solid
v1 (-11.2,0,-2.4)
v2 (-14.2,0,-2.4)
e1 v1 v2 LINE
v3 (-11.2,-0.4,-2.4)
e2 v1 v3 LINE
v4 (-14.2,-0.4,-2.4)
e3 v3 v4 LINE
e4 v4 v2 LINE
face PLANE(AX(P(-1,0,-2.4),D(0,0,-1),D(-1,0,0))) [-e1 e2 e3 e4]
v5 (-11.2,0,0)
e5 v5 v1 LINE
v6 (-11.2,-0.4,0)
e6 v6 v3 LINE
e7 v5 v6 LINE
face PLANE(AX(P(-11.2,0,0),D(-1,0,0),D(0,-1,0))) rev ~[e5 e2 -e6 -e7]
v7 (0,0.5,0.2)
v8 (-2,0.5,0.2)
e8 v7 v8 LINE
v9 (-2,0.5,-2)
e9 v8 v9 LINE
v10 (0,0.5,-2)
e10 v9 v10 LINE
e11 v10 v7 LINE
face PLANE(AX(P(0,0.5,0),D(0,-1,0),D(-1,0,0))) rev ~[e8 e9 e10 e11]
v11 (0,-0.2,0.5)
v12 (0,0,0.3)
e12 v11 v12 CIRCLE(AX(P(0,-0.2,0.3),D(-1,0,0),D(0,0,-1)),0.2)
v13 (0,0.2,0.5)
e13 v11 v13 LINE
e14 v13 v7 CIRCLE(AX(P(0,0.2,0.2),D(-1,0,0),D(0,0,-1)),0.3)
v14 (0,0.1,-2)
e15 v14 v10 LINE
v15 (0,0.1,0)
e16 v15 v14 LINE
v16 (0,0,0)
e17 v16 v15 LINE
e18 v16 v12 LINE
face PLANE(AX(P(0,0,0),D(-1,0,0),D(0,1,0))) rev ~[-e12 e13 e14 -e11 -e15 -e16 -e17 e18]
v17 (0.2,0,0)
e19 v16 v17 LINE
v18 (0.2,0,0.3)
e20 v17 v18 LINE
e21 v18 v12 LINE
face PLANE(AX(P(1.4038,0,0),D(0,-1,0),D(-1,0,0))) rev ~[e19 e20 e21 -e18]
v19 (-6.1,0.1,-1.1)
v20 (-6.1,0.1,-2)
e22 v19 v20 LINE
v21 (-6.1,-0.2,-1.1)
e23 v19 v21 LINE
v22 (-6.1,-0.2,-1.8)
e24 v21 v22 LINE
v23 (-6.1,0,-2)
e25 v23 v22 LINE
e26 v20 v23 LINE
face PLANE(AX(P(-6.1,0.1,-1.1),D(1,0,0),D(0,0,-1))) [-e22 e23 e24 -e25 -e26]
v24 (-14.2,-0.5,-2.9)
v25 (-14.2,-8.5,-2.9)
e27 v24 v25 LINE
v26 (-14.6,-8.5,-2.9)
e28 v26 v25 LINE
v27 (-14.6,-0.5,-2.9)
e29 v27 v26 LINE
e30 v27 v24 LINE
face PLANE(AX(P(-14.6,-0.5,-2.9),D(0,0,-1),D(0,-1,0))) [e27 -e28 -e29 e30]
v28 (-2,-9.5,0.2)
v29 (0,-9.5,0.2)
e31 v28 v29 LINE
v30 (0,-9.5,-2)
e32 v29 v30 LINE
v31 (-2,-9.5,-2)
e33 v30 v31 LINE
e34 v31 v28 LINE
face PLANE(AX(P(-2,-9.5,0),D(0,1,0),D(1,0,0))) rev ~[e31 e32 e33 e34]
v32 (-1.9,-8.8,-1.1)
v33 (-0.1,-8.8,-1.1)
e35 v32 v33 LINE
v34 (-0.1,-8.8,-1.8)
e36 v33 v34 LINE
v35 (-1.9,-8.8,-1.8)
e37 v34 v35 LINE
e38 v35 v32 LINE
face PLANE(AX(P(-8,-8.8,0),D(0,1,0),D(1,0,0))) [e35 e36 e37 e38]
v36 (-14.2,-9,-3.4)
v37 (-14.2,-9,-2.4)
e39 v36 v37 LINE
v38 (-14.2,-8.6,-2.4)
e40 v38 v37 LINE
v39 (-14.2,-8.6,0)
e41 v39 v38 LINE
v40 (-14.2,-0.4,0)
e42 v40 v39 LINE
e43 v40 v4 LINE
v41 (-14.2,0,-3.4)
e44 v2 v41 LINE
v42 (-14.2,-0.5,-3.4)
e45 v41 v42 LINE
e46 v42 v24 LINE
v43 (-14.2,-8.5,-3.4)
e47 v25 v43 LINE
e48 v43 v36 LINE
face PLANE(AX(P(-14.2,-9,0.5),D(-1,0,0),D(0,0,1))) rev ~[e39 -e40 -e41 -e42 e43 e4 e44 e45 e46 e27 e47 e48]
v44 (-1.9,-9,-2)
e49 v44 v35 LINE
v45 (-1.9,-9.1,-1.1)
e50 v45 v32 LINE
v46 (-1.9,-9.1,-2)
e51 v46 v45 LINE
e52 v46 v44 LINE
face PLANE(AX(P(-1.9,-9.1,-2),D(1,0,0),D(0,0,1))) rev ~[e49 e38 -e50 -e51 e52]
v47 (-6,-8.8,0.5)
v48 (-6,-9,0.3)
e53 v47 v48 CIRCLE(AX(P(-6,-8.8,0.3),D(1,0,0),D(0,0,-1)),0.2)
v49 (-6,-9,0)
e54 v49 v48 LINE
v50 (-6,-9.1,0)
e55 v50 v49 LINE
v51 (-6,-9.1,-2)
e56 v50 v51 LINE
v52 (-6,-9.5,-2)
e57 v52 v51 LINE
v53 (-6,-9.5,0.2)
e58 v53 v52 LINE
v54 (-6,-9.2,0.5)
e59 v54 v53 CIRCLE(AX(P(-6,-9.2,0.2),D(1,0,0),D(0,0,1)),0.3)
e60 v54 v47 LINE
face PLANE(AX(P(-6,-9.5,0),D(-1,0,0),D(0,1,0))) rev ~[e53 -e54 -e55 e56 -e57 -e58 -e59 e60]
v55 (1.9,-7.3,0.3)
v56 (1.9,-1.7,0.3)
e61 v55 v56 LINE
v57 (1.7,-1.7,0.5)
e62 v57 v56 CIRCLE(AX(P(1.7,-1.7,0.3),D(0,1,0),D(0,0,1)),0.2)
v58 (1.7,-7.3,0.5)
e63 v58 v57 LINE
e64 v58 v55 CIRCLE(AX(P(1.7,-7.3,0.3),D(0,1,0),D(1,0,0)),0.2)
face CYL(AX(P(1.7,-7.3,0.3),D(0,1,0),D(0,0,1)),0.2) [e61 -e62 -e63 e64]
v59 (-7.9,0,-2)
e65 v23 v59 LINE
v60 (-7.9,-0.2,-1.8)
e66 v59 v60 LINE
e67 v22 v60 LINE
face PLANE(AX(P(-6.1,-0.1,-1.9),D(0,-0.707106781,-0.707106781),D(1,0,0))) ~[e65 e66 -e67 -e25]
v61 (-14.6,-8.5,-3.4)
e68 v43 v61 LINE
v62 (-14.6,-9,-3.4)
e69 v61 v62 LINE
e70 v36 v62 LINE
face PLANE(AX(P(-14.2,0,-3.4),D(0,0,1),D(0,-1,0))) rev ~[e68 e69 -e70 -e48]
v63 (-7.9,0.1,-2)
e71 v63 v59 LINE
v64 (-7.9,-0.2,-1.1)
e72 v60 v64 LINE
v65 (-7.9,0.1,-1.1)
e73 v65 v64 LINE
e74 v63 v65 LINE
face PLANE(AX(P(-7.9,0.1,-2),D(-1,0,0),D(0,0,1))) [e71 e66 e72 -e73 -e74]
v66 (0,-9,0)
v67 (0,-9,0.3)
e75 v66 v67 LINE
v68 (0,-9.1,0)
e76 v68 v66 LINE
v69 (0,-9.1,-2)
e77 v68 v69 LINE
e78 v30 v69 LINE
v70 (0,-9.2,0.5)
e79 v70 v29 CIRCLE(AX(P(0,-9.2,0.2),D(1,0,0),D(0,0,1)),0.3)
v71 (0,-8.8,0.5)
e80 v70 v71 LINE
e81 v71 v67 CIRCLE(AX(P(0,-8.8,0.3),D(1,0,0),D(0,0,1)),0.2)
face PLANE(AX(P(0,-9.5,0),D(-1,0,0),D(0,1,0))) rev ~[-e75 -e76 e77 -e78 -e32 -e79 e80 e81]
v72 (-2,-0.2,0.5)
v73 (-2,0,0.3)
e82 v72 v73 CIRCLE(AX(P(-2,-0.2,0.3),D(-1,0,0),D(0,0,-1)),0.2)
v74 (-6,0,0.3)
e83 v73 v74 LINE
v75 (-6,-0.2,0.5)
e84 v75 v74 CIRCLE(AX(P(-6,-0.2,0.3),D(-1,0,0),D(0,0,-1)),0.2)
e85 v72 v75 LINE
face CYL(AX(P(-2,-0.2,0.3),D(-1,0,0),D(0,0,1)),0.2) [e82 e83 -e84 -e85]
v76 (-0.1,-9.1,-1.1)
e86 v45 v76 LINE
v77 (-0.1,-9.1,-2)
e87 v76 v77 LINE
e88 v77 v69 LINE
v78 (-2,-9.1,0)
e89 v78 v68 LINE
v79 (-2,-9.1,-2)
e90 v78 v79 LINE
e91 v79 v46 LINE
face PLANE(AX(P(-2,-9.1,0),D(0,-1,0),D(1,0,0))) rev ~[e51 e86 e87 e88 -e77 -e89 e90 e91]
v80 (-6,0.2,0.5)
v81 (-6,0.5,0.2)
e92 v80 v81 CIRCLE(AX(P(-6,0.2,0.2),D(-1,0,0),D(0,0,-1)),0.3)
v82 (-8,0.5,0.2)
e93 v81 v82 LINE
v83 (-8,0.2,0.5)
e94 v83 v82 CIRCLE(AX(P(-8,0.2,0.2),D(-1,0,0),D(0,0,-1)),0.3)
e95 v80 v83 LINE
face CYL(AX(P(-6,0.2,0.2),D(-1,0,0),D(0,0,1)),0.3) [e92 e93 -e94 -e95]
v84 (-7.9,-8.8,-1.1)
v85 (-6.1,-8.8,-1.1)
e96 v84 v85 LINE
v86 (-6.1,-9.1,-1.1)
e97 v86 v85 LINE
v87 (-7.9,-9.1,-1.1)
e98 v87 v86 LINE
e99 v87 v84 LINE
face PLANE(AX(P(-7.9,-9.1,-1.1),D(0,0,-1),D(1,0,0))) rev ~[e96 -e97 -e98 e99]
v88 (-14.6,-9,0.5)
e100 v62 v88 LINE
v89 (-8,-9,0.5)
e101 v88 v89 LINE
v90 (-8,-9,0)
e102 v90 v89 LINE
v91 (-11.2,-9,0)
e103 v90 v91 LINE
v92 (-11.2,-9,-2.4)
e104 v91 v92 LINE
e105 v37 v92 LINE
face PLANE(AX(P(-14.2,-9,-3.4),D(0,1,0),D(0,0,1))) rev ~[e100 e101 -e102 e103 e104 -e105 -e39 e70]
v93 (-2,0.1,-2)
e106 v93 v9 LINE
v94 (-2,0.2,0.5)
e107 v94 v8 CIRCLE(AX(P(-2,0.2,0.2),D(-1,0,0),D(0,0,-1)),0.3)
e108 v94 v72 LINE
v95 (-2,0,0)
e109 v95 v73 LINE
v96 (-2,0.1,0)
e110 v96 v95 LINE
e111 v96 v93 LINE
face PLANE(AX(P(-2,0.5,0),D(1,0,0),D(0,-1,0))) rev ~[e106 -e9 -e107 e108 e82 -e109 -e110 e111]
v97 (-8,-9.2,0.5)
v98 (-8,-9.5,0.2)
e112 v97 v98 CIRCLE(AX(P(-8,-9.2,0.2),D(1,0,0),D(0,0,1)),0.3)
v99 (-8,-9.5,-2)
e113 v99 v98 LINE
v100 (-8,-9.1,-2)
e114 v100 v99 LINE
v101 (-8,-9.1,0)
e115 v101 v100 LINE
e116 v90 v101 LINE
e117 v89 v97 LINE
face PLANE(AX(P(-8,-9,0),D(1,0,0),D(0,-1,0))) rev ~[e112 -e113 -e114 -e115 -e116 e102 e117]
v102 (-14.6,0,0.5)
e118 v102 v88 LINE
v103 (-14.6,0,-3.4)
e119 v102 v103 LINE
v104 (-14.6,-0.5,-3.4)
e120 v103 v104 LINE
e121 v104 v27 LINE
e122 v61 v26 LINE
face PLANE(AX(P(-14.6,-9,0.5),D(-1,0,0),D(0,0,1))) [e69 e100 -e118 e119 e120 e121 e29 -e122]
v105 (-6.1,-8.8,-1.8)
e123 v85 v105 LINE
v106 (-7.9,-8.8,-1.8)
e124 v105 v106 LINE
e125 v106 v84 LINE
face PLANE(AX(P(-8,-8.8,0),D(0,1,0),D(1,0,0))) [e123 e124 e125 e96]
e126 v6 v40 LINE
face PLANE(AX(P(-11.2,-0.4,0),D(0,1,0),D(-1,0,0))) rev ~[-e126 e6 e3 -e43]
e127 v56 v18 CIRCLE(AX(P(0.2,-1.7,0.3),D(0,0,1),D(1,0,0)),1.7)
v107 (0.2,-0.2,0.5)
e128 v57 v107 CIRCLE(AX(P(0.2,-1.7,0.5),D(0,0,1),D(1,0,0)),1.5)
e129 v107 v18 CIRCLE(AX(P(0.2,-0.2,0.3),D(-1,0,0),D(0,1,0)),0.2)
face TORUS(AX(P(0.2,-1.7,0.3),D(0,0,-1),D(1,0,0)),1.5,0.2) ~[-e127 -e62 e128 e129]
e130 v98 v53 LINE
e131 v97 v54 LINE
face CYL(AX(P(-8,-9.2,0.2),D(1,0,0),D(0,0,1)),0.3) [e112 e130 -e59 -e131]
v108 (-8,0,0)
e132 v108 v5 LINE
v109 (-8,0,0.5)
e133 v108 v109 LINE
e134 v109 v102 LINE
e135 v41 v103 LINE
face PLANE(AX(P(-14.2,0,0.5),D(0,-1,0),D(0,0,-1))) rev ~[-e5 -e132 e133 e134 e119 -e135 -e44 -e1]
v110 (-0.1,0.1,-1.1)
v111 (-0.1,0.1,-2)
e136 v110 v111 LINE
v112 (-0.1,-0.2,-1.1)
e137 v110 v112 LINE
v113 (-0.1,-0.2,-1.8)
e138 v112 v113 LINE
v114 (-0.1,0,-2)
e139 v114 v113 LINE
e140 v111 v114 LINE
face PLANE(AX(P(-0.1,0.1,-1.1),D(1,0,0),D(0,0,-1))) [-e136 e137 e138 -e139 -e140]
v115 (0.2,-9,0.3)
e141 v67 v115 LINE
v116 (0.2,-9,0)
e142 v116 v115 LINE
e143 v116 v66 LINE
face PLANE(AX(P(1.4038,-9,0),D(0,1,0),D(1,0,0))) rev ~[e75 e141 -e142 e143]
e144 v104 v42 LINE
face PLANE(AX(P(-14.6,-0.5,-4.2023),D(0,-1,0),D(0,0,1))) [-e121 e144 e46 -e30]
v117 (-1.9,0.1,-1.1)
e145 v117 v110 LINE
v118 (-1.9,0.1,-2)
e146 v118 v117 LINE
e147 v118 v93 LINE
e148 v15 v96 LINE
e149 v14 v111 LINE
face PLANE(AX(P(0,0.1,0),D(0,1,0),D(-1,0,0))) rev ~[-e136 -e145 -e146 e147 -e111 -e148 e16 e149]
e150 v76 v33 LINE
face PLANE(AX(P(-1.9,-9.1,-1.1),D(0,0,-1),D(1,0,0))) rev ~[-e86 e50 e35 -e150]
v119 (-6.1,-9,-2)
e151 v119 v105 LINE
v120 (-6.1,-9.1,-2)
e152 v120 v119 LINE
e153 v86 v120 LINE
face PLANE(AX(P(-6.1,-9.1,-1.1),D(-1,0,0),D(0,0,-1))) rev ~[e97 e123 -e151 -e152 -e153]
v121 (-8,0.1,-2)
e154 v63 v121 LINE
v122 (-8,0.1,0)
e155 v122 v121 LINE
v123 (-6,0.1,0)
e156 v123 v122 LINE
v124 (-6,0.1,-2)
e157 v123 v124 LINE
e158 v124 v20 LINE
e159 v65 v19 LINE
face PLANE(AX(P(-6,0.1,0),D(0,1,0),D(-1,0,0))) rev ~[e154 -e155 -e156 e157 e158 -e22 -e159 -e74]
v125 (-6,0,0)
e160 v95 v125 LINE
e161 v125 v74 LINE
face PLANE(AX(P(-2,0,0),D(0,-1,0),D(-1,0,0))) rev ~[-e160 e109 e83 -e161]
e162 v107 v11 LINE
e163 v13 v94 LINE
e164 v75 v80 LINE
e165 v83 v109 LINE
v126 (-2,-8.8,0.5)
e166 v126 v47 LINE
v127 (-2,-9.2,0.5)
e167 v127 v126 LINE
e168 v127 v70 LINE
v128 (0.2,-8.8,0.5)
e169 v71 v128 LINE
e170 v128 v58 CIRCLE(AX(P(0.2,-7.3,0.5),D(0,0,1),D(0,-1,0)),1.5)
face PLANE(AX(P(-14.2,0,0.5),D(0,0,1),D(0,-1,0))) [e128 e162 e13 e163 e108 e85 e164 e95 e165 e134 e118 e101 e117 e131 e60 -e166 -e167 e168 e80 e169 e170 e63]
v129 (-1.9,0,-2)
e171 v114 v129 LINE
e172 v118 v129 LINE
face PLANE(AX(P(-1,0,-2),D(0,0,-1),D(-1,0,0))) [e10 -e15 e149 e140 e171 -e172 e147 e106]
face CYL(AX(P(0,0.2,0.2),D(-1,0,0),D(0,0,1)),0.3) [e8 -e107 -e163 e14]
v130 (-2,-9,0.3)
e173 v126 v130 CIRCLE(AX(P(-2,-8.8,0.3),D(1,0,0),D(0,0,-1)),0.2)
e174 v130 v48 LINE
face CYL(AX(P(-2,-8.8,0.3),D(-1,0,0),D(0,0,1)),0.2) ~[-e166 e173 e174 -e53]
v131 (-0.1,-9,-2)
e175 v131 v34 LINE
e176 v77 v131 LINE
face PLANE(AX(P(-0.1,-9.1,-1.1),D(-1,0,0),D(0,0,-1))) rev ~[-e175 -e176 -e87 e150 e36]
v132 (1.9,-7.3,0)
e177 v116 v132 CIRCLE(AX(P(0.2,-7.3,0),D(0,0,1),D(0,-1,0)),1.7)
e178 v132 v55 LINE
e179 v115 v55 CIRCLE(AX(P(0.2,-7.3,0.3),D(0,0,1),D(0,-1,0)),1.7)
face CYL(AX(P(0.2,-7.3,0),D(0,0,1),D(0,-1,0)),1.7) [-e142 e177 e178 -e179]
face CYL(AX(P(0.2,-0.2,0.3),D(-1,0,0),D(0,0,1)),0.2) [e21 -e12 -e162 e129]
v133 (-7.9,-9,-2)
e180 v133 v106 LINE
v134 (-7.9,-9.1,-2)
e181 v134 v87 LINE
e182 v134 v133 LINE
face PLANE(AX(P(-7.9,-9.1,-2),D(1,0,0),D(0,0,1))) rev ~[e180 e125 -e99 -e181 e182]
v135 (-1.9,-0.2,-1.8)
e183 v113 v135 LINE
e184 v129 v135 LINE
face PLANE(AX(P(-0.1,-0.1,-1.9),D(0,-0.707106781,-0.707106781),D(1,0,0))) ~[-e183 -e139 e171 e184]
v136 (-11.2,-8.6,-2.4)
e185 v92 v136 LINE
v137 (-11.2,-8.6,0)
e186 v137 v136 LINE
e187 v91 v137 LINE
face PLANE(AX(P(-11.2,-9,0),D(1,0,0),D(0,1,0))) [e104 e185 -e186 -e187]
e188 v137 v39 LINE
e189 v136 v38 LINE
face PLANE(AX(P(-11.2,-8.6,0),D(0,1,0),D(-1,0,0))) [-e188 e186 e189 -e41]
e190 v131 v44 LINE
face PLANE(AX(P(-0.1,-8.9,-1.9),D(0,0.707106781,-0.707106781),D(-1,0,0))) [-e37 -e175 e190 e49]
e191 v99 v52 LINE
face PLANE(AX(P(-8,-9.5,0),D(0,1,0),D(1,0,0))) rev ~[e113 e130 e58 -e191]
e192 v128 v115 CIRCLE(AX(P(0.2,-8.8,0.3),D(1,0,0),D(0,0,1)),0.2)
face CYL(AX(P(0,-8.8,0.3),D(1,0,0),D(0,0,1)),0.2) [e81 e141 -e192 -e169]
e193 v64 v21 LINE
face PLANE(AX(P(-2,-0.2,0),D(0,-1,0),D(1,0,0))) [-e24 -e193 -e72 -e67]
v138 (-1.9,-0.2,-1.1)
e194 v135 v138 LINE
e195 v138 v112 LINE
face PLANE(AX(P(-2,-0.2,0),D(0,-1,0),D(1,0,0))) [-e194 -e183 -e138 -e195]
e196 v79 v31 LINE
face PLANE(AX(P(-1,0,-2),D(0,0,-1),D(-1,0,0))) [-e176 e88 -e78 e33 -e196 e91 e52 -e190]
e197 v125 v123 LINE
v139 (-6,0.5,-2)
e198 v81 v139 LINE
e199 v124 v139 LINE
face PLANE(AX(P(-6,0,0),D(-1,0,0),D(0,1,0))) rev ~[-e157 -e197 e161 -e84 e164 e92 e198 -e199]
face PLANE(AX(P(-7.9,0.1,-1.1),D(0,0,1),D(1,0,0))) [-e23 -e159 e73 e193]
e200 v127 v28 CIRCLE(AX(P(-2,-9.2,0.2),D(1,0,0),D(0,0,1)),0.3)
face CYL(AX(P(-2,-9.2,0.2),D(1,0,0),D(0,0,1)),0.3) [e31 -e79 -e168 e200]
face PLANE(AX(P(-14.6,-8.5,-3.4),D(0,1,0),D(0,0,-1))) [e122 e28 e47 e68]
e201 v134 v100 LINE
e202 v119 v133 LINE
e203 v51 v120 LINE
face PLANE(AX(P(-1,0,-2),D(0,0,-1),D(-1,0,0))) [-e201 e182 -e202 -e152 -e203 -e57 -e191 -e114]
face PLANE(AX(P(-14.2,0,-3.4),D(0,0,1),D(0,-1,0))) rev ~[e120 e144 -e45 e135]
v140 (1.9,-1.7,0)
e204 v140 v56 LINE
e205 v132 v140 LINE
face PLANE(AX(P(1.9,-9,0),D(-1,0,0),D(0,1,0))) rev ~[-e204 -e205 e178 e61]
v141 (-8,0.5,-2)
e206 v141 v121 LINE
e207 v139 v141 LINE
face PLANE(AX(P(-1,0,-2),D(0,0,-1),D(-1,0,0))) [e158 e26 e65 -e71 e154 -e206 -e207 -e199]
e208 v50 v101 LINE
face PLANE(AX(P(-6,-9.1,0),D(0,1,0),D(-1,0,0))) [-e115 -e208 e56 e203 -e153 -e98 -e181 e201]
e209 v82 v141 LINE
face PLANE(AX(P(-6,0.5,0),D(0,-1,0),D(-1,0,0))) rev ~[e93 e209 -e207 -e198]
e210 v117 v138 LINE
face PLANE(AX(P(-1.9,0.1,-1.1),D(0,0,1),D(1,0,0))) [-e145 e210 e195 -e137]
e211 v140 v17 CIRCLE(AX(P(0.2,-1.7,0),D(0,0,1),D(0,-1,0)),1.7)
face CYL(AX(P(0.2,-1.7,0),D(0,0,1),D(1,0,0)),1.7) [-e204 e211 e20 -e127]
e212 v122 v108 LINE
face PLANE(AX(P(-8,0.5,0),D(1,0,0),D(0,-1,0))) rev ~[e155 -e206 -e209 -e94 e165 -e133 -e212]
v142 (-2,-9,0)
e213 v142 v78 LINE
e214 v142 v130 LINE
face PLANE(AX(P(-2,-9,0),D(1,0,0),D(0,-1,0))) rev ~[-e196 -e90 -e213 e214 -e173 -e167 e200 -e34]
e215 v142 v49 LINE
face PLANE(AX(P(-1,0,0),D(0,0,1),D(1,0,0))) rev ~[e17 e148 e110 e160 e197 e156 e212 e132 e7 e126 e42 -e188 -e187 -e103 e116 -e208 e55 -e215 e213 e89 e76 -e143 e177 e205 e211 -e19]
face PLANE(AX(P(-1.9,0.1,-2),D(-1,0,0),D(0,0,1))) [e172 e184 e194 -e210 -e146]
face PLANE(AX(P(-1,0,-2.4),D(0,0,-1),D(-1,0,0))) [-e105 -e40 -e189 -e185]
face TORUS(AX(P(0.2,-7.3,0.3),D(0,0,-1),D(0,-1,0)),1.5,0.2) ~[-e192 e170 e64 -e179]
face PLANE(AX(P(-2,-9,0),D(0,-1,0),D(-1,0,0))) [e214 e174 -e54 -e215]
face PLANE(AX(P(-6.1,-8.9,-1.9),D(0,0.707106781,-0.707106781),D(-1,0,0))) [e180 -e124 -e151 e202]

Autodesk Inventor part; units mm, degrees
ref_plane "Work Plane1" through (-1, 0, 0) normal (0, 0, 1) x (1, 0, 0)
sketch "Sketch1" plane through (-1, 0, 0) normal (0, 0, 1) x (1, 0, 0)
  line L0 (-7, 0) -> (-5, 0)
  line L1 (-5, 0) -> (-5, 0.5)
  line L2 (-5, 0.5) -> (-7, 0.5)
  line L3 (-7, 0.5) -> (-7, 0)
  line L4 (-5, 0) -> (-5, -0.4) projected
  line L5 (-7, 0) -> (-7, -0.4) projected
  line L6 (-1, 0) -> (-1, -0.4) projected
  line L7 (1, 0) -> (1, -0.4) projected
  line L8 (1, -8.6) -> (1, -9) projected
  line L9 (-1, -8.6) -> (-1, -9) projected
  line L10 (-5, -8.6) -> (-5, -9) projected
  line L11 (-7, -8.6) -> (-7, -9) projected
  line L12 (-7, -9.5) -> (-5, -9.5)
  line L13 (-5, -9.5) -> (-5, -9)
  line L14 (-5, -9) -> (-7, -9)
  line L15 (-7, -9) -> (-7, -9.5)
  line L16 (-1, -9.5) -> (1, -9.5)
  line L17 (1, -9.5) -> (1, -9)
  line L18 (1, -9) -> (-1, -9)
  line L19 (-1, -9) -> (-1, -9.5)
  line L20 (-1, 0) -> (1, 0)
  line L21 (1, 0) -> (1, 0.5)
  line L22 (1, 0.5) -> (-1, 0.5)
  line L23 (-1, 0.5) -> (-1, 0)
  line L24 (2.4038, -9) -> (-10, -9) projected
  line L25 (2.4038, 0) -> (-10, 0) projected
  line L26 (-13.2, -9) -> (2.9, -9)
  line L27 (2.9, -9) -> (2.9, 0)
  line L28 (2.9, 0) -> (-13.2, 0)
  line L29 (-13.2, 0) -> (-13.2, -9)
  line L30 (2.7, -2.7) -> (2.7, -1.9958) projected
  line L31 (-13, -9) -> (-13, -5.4522) projected
  point P0 (0.7, -9)
  point P1 (1, 0)
  point P2 (-1, 0)
  point P3 (-5, 0)
  point P4 (-7, 0)
  point P5 (1, 0)
  dimension "d89" = 0.5
  dimension "d90" = 0.2
  dimension "d125" = 0.2
extrude "main" add sketch "Sketch1" along normal blind 0.5
sketch "Sketch2" plane through (-1, 0, 0) normal (0, 0, -1) x (-1, 0, 0)
  line L0 (13, 0) -> (-2.4038, 0) projected
  line L1 (-2.4038, -9) -> (13, -9) projected
  line L2 (7, 0.5) -> (7, 0) projected
  line L3 (5, 0) -> (5, 0.5) projected
  line L4 (-1, 0) -> (-1, 0.5) projected
  line L5 (1, 0.5) -> (-1, 0.5)
  line L6 (-1, 0.5) -> (-1, 0.1)
  line L7 (-1, 0.1) -> (1, 0.1)
  line L8 (1, 0.1) -> (1, 0.5)
  line L9 (7, -9) -> (7, -9.5) projected
  line L10 (7, -9.5) -> (5, -9.5)
  line L11 (5, -9.5) -> (5, -9.1)
  line L12 (5, -9.1) -> (7, -9.1)
  line L13 (7, -9.1) -> (7, -9.5)
  line L14 (-1, -9.5) -> (-1, -9) projected
  line L15 (1, -9) -> (1, -9.5) projected
  line L16 (-1, -9.5) -> (1, -9.5)
  line L17 (1, -9.5) -> (1, -9.1)
  line L18 (1, -9.1) -> (-1, -9.1)
  line L19 (-1, -9.1) -> (-1, -9.5)
  line L20 (5, 0.5) -> (7, 0.5) projected
  line L21 (7, 0.5) -> (5, 0.5)
  line L22 (5, 0.5) -> (5, 0.1)
  line L23 (5, 0.1) -> (7, 0.1)
  line L24 (7, 0.1) -> (7, 0.5)
  line L25 (1, 0.5) -> (1, 0) projected
  line L26 (-1, 0.5) -> (1, 0.5) projected
  point P0 (1, -9.5)
  point P1 (-1, -9.1)
  point P2 (-1, 0.5)
  dimension "d91" = 0.1
  dimension "d92" = 0.1
  dimension "d93" = 0.1
  dimension "d94" = 0.1
extrude "flaps" add sketch "Sketch2" along normal blind 2 contours L23 L3 L20 L2 | L7 L4 L5 L8 | L9 L10 L11 L12 | L18 L15 L16 L14
sketch "Sketch18" plane through (-1, 0, 0) normal (0, 0, -1) x (-1, 0, 0)
  line L0 (7, 0) -> (13.2, 0) projected
  line L1 (13.2, 0) -> (10.2, 0)
  line L2 (10.2, 0) -> (10.2, -0.4)
  line L3 (10.2, -0.4) -> (13.2, -0.4)
  line L4 (13.2, -0.4) -> (13.2, 0)
  line L5 (13.2, -9) -> (7, -9) projected
  line L6 (13.2, -9) -> (10.2, -9)
  line L7 (10.2, -9) -> (10.2, -8.6)
  line L8 (10.2, -8.6) -> (13.2, -8.6)
  line L9 (13.2, -8.6) -> (13.2, -9)
  line L10 (10, 0) -> (10, -0.4) projected
  line L11 (-1.3, -0.4) -> (10, -0.4) projected
  line L12 (-1.3, -8.6) -> (10, -8.6) projected
  point P0 (-1, 0)
  point P1 (10.2, 0)
  dimension "d95" = 0.2
extrude "Extrusion18" add sketch "Sketch18" along normal blind 2.4
ref_plane "Work Plane4" through (-14.2, -9, 0.5) normal (-1, 0, 0) x (0, 0, 1)
sketch "Sketch19" plane through (-14.2, -9, 0.5) normal (-1, 0, 0) x (0, 0, 1)
  line L0 (0, 9) -> (0, 0) projected
  line L1 (0, 9) -> (-3.9, 9)
  line L2 (-3.9, 9) -> (-3.9, 0)
  line L3 (-3.9, 0) -> (0, 0)
  line L4 (0, 0) -> (0, 9)
  line L5 (-3.9, 8.5) -> (-3.9, 0.5) projected
extrude "Extrusion19" add sketch "Sketch19" along normal blind 0.4
fillet "Fillet7" radius 0.3 4 edges at (-1, -9.5, 0.5) (-1, 0.5, 0.5) (-7, 0.5, 0.5) (-7, -9.5, 0.5)
fillet "Fillet9" radius 1.7 2 edges at (1.9, 0, 0.25) (1.9, -9, 0.25)
sketch "Sketch22" plane through (-8, -9.1, 0) normal (0, 1, 0) x (1, 0, 0)
  line L0 (0, 0.9) -> (2, 0.9) projected
  line L1 (0, 2.1) -> (0, 0.9) projected
  line L2 (2, 0.9) -> (2, 2.1) projected
  line L3 (6, 0.9) -> (8, 0.9) projected
  line L4 (8, 0.9) -> (8, 2.1) projected
  line L5 (6, 2.1) -> (8, 2.1) projected
  line L6 (6, 2.1) -> (6, 0.9) projected
  line L7 (2, 2.1) -> (0, 2.1) projected
  line L8 (0.1, 1.1) -> (1.9, 1.1)
  line L9 (1.9, 1.1) -> (1.9, 2)
  line L10 (1.9, 2) -> (0.1, 2)
  line L11 (0.1, 2) -> (0.1, 1.1)
  line L12 (6.1, 1.1) -> (7.9, 1.1)
  line L13 (7.9, 1.1) -> (7.9, 2)
  line L14 (7.9, 2) -> (6.1, 2)
  line L15 (6.1, 2) -> (6.1, 1.1)
  point P0 (8, 0)
  dimension "d134" = 0.1
  dimension "d135" = 0.2
  dimension "d136" = 0.1
  dimension "d137" = 0.1
  dimension "d138" = 0.1
  dimension "d139" = 0.1
  dimension "d140" = 0.1
extrude "Extrusion22" add sketch "Sketch22" along normal blind 0.3 contours L11 L10 L9 L8 | L15 L14 L13 L12
sketch "Sketch23" plane through (-2, 0.1, 0) normal (0, -1, 0) x (1, 0, 0)
  line L0 (1.9, -2) -> (0.1, -2) projected
  line L1 (0.1, -1.1) -> (1.9, -1.1) projected
  line L2 (0.1, -2) -> (0.1, -1.1) projected
  line L3 (1.9, -1.1) -> (1.9, -2) projected
  line L4 (-4.1, -1.1) -> (-4.1, -2) projected
  line L5 (-4.1, -2) -> (-5.9, -2) projected
  line L6 (-5.9, -1.1) -> (-4.1, -1.1) projected
  line L7 (-5.9, -2) -> (-5.9, -1.1) projected
  point P0 (2, 0)
extrude "Extrusion23" add sketch "Sketch23" along normal blind 0.3
chamfer "Chamfer6" distance 0.2 angle 45 4 edges at (-1, -8.8, -2) (-7, -8.8, -2) (-7, -0.2, -2) (-1, -0.2, -2)
fillet "Fillet11" radius 0.2 5 edges at (1.4021, -0.4979, 0.5) (1.4021, -8.5021, 0.5) (1.9, -4.5, 0.5) (-4, -9, 0.5) (-4, 0, 0.5)
sketch "Sketch9" plane through (-1, 0, 0.5) normal (0, 0, 1) x (1, 0, 0)
  line L0 (-15.2, -10) -> (-9.8, -10)
  line L1 (-9.8, -10) -> (-9.8, 1)
  line L2 (-9.8, 1) -> (-15.2, 1)
  line L3 (-15.2, 1) -> (-15.2, -10)
  line L4 (-13.2, 0) -> (-13.2, -9) projected
  line L5 (-13.2, -9) -> (-7, -9) construction
  line L6 (-7, -9) -> (-7, -10) construction
  line L7 (-7, 0.1) -> (-7, 0) construction
  line L8 (-7, 0) -> (-7, 1) construction
  point P0 (1, 0)
  dimension "d100" = 5.4
  dimension "d101" = 11
  dimension "d102" = 2
ref_plane "Work Plane3" through (-10.8, -9.5, 0.5) normal (1, 0, 0) x (0, 0, -1)
sketch "Sketch20" plane through (-10.8, -9.5, 0.5) normal (1, 0, 0) x (0, 0, -1)
  line L0 (-0.925, -0.1) -> (-0.275, -0.1)
  line L1 (-0.275, -0.1) -> (-0.275, 10.1)
  line L2 (-0.275, 10.1) -> (-0.925, 10.1)
  line L3 (-0.925, 10.1) -> (-0.925, -0.1)
  line L4 (0, -0.5) -> (-1.2, -0.5) construction
  line L5 (0, 10.5) -> (-1.2, 10.5) construction
  line L6 (-1.2, -0.5) -> (-1.2, 10.5) construction
  point P0 (0.5, 9.5)
  point P1 (0.4, -0.5)
  point P2 (0.4, 10.5)
  dimension "d105" = 0.275
  dimension "d106" = 0.65
  dimension "d107" = 0.4
  dimension "d108" = 0.4
sketch "Sketch24" plane through (-14.6, -9, 0.5) normal (-1, 0, 0) x (0, 0, 1)
  line L0 (-4.7023, 8.5) -> (-3.4, 8.5)
  line L1 (-3.4, 8.5) -> (-3.4, 0.5)
  line L2 (-3.4, 0.5) -> (-4.7023, 0.5)
  line L3 (-4.7023, 0.5) -> (-4.7023, 8.5)
  line L4 (0, 0) -> (0, 9) projected
  line L5 (0, 9) -> (-3.9, 9) projected
  line L6 (-3.9, 9) -> (-3.9, 0) projected
  line L7 (-3.9, 0) -> (0, 0) projected
  point P0 (-0.5, 9)
  point P1 (-4.0512, 8.5)
  dimension "d152" = 8
  dimension "d153" = 0.5
  dimension "d154" = 0.5
extrude "Extrusion24" cut sketch "Sketch24" against normal blind 10 contours L0 L6 L2 L3 | L0 L1 L2 L6
properties part number "np2alpha_cap_flex_top"
